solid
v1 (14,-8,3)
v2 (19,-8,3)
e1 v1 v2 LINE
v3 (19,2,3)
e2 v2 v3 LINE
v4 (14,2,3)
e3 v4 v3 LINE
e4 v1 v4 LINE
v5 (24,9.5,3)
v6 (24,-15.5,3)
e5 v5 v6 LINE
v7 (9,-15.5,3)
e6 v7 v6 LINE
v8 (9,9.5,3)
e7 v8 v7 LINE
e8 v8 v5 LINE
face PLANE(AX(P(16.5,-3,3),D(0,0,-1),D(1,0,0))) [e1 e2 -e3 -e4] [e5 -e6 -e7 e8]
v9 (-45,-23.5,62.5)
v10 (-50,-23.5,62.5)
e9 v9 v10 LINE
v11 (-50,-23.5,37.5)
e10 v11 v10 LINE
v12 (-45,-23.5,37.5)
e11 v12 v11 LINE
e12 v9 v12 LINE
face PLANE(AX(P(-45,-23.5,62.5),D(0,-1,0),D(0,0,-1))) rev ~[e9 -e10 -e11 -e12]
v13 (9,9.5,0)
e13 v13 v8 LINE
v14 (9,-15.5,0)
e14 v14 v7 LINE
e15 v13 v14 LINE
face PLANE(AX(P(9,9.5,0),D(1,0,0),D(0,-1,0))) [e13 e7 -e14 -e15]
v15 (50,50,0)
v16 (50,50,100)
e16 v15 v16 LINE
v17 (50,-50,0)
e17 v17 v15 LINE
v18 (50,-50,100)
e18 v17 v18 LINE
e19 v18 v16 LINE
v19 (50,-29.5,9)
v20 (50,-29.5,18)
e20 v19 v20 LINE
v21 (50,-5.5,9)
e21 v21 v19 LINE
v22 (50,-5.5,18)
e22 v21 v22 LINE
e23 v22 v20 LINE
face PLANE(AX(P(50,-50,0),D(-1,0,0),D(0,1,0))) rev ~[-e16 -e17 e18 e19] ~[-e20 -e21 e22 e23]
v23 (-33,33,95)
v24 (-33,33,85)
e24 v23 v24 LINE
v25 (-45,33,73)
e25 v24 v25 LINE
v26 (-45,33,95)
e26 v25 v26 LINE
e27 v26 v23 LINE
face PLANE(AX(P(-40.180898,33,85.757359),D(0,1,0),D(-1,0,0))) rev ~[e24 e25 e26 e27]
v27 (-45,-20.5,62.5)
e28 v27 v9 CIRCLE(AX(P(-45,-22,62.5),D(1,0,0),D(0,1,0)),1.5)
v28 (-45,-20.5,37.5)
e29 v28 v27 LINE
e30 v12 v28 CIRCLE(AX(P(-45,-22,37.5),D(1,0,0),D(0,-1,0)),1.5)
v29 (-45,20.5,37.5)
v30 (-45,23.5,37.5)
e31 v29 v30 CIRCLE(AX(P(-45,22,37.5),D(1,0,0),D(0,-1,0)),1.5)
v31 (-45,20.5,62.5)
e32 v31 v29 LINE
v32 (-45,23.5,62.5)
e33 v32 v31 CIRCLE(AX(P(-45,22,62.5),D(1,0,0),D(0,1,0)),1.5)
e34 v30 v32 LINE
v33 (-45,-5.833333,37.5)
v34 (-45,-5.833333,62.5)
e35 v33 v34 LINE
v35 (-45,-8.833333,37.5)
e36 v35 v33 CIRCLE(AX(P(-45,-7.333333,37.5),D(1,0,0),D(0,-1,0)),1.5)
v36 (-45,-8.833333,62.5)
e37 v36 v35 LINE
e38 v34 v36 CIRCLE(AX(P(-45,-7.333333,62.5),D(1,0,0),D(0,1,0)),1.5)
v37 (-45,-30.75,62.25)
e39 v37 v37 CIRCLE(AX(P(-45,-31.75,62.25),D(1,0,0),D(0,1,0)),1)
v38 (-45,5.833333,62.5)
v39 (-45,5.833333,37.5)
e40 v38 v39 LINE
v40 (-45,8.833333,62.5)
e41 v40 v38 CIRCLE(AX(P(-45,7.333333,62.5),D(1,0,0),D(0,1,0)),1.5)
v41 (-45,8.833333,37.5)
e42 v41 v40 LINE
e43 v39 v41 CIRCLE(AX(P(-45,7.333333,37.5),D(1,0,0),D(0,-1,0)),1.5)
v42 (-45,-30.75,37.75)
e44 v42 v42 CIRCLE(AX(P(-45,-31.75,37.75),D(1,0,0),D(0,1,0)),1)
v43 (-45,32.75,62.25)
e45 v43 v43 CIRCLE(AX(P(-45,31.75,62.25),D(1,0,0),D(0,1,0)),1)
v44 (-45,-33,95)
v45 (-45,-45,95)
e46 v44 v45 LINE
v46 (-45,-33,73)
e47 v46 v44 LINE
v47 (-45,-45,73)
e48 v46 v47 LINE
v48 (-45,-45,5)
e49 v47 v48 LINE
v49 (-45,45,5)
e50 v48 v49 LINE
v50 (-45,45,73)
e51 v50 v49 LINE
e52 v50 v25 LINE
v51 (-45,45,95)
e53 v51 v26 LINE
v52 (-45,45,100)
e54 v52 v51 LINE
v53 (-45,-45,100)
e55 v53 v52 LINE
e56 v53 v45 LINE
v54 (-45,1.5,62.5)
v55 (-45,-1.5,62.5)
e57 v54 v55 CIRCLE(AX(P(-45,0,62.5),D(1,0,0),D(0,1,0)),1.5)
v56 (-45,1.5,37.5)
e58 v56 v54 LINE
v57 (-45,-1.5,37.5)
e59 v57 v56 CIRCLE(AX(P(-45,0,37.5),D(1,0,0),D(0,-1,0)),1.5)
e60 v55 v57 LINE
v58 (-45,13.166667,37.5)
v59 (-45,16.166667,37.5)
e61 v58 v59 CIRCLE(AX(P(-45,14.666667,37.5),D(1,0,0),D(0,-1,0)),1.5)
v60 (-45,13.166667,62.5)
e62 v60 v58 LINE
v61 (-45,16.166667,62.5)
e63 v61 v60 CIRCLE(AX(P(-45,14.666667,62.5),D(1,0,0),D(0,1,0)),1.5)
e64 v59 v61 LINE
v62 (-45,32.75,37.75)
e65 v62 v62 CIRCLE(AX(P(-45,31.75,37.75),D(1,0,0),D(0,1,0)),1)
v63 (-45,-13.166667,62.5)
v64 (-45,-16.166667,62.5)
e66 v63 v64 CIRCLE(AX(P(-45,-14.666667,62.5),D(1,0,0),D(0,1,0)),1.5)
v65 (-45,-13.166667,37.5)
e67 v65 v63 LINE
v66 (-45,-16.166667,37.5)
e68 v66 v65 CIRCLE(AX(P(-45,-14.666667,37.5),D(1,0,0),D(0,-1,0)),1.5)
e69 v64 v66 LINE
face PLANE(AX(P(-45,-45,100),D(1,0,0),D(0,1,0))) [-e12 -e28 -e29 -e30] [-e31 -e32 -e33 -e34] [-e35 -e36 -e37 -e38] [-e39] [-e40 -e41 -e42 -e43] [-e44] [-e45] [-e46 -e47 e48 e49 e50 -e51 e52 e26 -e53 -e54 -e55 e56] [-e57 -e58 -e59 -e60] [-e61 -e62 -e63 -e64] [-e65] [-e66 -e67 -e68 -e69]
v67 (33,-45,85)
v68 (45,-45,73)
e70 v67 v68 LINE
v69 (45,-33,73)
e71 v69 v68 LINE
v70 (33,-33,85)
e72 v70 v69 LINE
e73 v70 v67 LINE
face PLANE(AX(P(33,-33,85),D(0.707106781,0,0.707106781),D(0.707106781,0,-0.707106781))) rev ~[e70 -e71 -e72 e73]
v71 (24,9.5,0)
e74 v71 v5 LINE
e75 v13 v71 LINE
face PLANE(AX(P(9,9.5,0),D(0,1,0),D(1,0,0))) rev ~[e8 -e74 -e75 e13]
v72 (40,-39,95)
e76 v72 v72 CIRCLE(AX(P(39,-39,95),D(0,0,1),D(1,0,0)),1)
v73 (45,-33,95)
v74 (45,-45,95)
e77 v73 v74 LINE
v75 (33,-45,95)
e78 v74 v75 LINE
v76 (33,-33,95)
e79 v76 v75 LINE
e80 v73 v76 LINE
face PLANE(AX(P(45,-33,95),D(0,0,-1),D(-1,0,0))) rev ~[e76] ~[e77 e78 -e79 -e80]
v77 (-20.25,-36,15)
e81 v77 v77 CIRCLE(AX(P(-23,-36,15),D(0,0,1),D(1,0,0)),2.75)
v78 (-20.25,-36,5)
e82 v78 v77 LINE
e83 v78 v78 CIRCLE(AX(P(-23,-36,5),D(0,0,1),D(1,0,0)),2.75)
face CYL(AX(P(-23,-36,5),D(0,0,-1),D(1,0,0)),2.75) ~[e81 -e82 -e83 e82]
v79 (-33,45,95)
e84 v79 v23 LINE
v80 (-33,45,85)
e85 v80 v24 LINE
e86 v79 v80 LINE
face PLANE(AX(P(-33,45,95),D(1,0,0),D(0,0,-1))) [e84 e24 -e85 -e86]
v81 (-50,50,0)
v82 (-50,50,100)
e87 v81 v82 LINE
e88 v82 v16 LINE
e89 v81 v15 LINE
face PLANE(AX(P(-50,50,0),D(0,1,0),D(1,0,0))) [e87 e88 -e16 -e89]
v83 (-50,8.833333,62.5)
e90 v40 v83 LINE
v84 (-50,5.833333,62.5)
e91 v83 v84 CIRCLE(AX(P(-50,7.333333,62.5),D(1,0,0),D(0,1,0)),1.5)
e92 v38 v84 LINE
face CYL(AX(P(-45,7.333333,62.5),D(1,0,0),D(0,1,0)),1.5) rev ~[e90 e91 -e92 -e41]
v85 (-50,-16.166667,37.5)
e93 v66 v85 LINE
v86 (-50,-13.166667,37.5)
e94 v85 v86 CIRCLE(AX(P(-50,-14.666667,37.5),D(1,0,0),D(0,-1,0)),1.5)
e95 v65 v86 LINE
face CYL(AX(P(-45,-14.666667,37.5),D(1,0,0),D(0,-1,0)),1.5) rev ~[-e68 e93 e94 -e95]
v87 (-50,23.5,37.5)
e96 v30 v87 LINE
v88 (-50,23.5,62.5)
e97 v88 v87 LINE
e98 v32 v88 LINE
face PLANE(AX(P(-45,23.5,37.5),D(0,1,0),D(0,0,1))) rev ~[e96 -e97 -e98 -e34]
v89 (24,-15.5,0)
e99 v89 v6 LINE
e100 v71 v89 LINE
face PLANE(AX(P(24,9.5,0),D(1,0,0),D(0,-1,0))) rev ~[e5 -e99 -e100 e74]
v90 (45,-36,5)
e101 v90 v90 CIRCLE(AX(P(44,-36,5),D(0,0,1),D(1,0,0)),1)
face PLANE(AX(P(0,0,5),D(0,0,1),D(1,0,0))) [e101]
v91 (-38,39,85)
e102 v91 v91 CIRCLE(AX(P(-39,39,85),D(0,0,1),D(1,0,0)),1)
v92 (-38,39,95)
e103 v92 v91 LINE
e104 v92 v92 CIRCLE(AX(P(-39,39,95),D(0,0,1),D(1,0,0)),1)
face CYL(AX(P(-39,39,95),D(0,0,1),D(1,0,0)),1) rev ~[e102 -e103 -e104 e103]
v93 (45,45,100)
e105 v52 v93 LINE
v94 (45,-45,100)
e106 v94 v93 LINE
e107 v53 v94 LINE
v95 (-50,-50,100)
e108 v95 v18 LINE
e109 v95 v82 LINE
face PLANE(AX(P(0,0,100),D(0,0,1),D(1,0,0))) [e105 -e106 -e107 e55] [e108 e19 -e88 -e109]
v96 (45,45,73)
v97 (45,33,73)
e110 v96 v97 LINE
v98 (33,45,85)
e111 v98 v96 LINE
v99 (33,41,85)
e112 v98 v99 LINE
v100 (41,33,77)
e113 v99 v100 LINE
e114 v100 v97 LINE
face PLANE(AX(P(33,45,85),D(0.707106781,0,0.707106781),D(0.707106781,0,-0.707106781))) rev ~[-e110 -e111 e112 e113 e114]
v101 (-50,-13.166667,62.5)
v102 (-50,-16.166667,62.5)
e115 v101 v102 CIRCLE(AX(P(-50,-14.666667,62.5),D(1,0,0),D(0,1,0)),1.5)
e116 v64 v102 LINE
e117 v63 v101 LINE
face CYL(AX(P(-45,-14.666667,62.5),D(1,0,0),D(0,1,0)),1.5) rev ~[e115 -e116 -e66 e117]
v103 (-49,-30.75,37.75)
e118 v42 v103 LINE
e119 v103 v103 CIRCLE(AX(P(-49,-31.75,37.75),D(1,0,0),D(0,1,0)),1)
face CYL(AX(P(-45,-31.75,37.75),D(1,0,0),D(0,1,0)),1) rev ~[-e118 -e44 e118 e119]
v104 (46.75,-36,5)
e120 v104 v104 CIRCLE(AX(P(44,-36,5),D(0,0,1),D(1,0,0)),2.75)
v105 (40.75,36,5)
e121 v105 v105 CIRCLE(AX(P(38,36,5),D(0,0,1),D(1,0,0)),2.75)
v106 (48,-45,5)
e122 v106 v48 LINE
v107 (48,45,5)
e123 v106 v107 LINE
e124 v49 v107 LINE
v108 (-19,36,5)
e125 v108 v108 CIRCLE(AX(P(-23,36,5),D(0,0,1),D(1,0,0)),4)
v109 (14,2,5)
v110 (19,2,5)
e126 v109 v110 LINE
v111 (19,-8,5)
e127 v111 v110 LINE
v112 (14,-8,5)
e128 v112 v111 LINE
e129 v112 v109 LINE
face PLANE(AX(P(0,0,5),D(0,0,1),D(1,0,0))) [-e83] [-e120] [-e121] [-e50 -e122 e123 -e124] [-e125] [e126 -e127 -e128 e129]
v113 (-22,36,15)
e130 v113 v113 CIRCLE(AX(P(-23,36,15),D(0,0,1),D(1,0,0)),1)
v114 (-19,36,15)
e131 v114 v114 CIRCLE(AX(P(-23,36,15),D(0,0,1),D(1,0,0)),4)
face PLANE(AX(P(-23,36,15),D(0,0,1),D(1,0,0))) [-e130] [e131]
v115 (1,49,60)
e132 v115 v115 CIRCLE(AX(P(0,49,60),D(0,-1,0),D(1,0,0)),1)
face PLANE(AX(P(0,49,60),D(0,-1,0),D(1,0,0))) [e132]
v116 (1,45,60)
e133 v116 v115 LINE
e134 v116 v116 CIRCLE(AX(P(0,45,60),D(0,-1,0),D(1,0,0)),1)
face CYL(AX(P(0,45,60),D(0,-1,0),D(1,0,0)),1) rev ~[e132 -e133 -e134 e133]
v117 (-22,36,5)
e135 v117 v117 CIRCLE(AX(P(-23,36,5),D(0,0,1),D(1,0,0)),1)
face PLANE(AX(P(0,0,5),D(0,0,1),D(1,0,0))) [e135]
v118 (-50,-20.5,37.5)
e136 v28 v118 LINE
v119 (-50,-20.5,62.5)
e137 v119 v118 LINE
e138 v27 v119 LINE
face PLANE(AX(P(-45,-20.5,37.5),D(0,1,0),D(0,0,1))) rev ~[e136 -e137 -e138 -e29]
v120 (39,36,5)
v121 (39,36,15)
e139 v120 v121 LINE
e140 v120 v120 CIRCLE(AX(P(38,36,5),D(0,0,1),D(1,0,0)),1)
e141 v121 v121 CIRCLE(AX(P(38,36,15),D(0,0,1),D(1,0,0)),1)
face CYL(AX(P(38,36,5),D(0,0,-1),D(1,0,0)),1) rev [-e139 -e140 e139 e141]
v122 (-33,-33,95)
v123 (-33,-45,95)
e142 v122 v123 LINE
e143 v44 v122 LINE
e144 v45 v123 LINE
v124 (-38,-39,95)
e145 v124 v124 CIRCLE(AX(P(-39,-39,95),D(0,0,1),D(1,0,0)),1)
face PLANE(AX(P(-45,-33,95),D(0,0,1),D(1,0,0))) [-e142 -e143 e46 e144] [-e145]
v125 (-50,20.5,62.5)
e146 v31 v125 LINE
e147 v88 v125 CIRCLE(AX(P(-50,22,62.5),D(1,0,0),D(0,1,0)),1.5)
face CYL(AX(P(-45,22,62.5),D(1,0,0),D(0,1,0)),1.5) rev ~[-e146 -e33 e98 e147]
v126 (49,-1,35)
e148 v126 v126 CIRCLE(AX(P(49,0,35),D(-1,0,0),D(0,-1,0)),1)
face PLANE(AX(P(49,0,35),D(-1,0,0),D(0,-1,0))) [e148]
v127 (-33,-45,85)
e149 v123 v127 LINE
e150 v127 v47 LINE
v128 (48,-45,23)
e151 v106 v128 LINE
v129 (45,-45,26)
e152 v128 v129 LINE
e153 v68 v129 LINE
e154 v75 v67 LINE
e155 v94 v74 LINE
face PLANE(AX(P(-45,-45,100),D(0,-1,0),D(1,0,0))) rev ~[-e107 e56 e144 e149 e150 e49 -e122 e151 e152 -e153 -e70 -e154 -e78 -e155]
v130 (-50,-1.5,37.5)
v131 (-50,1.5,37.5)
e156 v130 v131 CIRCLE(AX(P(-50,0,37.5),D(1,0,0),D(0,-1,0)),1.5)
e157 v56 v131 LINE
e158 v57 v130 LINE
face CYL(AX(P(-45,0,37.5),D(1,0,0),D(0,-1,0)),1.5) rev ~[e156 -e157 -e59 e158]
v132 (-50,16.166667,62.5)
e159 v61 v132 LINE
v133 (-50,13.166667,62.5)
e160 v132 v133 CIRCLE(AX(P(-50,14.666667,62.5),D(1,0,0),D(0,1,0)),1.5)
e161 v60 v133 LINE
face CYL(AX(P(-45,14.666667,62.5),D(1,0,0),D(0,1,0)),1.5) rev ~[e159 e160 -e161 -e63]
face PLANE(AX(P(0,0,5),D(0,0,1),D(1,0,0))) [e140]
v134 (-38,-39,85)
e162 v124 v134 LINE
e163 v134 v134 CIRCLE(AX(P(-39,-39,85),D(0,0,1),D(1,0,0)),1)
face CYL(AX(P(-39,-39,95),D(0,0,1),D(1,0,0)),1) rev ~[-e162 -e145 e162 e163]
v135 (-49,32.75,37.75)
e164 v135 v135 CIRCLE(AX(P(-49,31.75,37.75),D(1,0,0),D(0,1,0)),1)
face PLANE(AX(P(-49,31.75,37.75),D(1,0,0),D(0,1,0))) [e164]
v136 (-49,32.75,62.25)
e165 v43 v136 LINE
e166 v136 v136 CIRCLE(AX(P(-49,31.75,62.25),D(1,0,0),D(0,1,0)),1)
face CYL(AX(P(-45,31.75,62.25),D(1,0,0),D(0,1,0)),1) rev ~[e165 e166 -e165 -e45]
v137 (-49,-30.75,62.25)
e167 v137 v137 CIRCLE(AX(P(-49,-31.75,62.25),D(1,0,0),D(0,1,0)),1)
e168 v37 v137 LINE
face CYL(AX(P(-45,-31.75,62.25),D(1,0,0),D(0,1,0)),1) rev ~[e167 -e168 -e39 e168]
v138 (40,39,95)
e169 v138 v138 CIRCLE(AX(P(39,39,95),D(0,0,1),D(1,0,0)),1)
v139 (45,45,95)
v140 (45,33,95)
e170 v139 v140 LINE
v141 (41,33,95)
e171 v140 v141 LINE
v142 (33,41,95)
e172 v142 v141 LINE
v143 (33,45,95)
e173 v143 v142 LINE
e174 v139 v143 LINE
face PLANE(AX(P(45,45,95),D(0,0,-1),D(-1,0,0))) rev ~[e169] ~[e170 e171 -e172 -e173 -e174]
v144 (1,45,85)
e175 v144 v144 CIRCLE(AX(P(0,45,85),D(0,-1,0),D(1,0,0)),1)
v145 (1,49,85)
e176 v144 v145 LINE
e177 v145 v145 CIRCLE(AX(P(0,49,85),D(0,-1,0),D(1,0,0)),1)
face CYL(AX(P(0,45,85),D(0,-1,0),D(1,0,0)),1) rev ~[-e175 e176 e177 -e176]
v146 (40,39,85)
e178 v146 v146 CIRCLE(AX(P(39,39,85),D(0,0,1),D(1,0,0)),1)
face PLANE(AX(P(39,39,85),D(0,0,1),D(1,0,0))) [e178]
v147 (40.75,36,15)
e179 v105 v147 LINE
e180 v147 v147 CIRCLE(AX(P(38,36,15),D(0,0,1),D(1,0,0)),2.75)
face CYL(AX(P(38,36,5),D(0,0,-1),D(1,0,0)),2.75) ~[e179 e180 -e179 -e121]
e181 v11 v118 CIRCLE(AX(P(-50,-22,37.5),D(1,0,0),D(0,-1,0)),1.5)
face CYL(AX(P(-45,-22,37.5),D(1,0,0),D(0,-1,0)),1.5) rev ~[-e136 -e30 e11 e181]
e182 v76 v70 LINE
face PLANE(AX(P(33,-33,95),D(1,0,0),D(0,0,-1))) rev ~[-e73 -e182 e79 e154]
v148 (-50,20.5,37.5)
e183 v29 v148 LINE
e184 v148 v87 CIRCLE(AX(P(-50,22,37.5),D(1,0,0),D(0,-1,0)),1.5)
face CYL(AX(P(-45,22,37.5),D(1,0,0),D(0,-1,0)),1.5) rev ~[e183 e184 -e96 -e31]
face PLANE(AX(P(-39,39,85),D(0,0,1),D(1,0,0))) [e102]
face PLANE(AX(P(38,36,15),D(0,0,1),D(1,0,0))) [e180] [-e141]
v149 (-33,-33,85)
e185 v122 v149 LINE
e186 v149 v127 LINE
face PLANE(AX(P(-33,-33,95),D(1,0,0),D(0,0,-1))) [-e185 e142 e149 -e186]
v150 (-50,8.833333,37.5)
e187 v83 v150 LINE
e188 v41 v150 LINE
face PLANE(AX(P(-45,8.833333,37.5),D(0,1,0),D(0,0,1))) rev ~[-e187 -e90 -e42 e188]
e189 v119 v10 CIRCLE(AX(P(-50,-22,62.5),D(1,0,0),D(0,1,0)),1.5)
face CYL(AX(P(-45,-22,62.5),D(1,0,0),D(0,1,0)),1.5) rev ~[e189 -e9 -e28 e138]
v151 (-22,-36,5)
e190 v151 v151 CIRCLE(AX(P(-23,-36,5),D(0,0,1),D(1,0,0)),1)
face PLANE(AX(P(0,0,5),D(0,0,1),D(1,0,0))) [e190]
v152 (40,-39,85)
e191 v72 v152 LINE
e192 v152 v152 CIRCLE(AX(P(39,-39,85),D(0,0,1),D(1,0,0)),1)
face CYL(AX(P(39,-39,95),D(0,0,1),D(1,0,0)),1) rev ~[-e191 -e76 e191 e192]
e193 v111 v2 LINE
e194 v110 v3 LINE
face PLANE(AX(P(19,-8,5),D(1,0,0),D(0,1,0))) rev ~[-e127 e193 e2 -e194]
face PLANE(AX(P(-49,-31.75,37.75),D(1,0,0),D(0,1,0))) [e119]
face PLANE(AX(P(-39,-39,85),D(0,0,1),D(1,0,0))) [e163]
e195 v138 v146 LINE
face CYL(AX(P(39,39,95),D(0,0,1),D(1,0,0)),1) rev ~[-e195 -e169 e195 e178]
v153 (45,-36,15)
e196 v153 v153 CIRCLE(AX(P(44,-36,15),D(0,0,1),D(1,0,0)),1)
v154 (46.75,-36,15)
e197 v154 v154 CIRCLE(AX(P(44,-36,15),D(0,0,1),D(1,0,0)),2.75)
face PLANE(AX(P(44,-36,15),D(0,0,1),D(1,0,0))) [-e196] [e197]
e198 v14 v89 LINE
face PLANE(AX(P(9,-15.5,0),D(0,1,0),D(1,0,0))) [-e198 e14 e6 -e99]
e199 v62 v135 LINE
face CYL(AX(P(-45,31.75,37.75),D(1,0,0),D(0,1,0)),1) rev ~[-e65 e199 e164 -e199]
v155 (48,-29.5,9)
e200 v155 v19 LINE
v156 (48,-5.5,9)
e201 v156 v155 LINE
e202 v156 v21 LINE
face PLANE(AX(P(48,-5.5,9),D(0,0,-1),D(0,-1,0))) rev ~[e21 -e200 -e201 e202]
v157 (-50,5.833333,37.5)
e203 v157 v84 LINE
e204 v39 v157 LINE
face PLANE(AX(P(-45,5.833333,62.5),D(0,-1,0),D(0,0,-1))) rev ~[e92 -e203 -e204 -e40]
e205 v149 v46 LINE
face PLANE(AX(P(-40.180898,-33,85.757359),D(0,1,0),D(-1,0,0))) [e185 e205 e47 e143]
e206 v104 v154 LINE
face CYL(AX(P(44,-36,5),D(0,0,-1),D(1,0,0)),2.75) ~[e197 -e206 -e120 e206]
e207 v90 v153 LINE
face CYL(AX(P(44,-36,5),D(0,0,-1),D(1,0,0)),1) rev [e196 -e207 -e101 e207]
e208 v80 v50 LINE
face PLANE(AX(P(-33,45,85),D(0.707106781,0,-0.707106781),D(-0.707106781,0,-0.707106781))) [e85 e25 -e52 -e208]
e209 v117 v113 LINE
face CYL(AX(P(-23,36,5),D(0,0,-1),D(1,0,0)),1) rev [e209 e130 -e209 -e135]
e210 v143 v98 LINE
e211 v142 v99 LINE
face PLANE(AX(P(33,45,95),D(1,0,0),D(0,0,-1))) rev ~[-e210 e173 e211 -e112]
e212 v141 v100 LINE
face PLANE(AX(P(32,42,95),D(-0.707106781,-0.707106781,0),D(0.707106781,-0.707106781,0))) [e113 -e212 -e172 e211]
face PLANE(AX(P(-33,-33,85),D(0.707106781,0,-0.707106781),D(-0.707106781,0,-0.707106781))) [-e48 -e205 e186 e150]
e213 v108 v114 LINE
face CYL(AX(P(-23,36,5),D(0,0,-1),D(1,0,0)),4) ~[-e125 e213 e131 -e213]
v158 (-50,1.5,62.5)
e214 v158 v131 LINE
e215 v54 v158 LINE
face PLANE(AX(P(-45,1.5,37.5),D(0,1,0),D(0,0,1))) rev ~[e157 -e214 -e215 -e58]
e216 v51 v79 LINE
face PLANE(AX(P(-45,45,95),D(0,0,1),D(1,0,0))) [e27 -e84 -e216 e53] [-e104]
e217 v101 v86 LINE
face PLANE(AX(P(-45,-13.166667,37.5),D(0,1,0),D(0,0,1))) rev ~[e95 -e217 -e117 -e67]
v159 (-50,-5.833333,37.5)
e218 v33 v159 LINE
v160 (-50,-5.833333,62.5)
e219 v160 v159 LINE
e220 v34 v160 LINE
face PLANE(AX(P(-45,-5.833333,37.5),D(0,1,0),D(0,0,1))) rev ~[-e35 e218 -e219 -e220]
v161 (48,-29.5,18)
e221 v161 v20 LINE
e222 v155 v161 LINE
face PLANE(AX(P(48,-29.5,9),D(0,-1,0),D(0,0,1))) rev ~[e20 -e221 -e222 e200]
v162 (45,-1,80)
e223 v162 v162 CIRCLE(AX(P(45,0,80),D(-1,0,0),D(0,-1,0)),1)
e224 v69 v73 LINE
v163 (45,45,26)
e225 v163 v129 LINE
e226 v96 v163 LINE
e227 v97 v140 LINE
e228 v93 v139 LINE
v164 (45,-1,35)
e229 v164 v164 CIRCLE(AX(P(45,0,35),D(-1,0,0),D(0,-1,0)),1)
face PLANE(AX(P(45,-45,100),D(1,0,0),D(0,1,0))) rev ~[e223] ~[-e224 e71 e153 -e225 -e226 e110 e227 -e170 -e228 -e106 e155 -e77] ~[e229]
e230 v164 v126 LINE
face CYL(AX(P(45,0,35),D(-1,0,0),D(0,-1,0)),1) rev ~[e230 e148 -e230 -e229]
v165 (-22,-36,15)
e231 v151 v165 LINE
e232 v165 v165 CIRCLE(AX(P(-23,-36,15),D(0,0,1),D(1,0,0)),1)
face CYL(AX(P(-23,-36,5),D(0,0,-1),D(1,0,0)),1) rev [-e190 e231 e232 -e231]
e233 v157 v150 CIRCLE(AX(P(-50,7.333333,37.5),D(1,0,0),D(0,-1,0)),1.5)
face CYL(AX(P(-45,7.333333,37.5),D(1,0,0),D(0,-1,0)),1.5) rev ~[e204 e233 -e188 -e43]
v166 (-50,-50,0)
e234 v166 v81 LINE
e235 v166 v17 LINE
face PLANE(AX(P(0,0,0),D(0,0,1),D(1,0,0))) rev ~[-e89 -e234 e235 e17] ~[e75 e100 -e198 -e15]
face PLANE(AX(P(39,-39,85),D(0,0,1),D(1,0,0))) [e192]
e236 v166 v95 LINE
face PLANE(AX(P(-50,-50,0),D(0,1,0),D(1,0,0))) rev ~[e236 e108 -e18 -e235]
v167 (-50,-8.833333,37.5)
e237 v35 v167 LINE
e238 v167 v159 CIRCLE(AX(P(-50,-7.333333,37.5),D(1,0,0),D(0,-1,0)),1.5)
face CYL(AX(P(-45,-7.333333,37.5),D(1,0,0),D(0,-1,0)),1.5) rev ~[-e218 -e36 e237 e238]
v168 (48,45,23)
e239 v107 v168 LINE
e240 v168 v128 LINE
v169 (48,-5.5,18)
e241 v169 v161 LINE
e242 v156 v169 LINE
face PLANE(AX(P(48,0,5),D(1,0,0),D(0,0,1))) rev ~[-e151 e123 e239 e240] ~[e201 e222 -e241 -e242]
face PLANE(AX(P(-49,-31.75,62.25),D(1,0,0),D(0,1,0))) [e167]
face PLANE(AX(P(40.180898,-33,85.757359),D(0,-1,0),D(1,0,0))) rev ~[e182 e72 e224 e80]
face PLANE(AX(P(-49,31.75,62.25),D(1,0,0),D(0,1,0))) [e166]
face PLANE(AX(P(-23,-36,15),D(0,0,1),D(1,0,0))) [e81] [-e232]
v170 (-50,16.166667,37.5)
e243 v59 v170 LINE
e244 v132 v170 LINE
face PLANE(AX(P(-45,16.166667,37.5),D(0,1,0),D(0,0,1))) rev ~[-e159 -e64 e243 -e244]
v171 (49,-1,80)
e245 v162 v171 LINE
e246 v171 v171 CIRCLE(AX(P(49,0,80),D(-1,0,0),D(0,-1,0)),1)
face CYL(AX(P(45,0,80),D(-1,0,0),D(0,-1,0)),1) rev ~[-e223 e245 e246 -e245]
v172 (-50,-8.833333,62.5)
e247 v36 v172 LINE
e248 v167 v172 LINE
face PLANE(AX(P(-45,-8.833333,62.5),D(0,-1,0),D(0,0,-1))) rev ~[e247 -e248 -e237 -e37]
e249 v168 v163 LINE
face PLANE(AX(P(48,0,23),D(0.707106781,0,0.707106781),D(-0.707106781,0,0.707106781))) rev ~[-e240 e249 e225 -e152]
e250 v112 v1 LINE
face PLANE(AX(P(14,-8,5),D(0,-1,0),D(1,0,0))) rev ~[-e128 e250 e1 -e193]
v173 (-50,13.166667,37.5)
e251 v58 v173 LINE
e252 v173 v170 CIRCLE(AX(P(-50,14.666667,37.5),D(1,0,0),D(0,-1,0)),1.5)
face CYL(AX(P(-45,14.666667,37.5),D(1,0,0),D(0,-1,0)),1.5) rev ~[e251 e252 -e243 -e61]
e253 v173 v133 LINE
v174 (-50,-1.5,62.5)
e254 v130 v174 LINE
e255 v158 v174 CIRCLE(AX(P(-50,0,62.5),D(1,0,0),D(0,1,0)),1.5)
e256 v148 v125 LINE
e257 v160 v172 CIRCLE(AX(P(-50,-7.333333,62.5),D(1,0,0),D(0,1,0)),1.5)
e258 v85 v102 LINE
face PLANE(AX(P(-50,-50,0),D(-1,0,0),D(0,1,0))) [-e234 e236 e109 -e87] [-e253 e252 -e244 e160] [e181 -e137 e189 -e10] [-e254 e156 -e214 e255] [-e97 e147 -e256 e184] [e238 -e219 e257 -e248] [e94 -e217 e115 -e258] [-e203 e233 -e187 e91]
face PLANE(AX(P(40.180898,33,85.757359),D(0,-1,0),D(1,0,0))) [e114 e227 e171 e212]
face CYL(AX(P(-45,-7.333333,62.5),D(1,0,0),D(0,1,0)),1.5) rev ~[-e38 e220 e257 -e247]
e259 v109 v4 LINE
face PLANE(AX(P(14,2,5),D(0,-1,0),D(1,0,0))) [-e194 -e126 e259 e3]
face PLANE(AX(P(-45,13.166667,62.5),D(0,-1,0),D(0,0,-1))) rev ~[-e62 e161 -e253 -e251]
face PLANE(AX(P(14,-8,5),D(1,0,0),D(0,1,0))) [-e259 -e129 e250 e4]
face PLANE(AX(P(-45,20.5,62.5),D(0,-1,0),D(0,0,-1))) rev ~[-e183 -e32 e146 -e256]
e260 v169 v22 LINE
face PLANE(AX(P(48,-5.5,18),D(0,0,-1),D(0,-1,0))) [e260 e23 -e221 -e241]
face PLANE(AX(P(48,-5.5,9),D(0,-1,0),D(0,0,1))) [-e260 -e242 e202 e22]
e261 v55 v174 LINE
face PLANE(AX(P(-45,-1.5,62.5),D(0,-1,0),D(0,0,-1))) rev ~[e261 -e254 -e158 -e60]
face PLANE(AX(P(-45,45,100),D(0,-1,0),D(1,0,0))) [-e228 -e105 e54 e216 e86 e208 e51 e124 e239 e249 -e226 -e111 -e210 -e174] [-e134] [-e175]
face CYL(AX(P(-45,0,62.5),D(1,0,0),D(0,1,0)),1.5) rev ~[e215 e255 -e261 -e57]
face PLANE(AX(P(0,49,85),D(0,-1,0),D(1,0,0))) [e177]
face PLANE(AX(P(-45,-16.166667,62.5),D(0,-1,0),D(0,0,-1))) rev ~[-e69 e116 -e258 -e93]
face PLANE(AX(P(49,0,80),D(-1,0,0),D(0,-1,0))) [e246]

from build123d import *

# Parameters (mm, degrees)
SKETCH_W                        = 100
SKETCH_H                        = 100
PAD_DEPTH                       = 100
SKETCH001_W                     = 90
SKETCH001_H                     = 90
POCKET_DEPTH                    = 95
POCKET001_DEPTH                 = 45
SKETCH003_R                     = 4
SKETCH003_R_2                   = 1
SKETCH003_R_3                   = 2.75
PAD001_DEPTH                    = 10
SKETCH004_W                     = 24
SKETCH004_H                     = 9
POCKET002_DEPTH                 = 5
SKETCH005_W                     = 5
SKETCH005_H                     = 10
POCKET003_DEPTH                 = 6
SKETCH006_W                     = 15
SKETCH006_H                     = 25
POCKET004_DEPTH                 = 3
SKETCH007_R                     = 1
POCKET005_DEPTH                 = 4
POCKET006_DEPTH                 = 6
POCKET006_LINEARPATTERN_2_DEPTH = 6
POCKET006_LINEARPATTERN_3_DEPTH = 6
POCKET006_LINEARPATTERN_4_DEPTH = 6
LINEARPATTERN001_COUNT          = 2
LINEARPATTERN001_PITCH          = 22
SKETCH009_R                     = 1
POCKET007_DEPTH                 = 4
SKETCH010_R                     = 1
POCKET008_DEPTH                 = 4
PAD002_DEPTH                    = 12
PAD002_MIRRORED001_2_DEPTH      = 12
LINEARPATTERN002_COUNT          = 2
LINEARPATTERN002_PITCH          = 78
SKETCH012_R                     = 1
POCKET009_DEPTH                 = 10
POCKET010_DEPTH                 = 20


with BuildPart() as part:
    # Sketch → Pad (new body)
    with BuildSketch(Plane.XY):
        Rectangle(SKETCH_W, SKETCH_H)
    extrude(amount=PAD_DEPTH)

    # Sketch001 (on Face6 of Pad) → Pocket (cut)
    with BuildSketch(Plane.XY.offset(100)):
        Rectangle(SKETCH001_W, SKETCH001_H)
    extrude(amount=-POCKET_DEPTH, mode=Mode.SUBTRACT)

    # Sketch002 → Pocket001 (cut)
    with BuildSketch(Plane.XZ):
        Polygon((28, 5), (48, 5), (48, 23), (28, 43), align=None)
    pocket001 = extrude(amount=-POCKET001_DEPTH, mode=Mode.SUBTRACT)

    # Mirrored: Pocket001 across XZ
    add(pocket001.mirror(Plane.XZ), mode=Mode.SUBTRACT)

    # Sketch003 (on Face11 of Mirrored) → Pad001 (join)
    with BuildSketch(Plane.XY.offset(5)):
        with Locations((-23, 36)):
            Circle(SKETCH003_R)
        with Locations((-23, 36)):
            Circle(SKETCH003_R_2, mode=Mode.SUBTRACT)
        with Locations((38, 36)):
            Circle(SKETCH003_R_3)
        with Locations((38, 36)):
            Circle(SKETCH003_R_2, mode=Mode.SUBTRACT)
        with Locations((44, -36)):
            Circle(SKETCH003_R_3)
        with Locations((44, -36)):
            Circle(SKETCH003_R_2, mode=Mode.SUBTRACT)
        with Locations((-23, -36)):
            Circle(SKETCH003_R_3)
        with Locations((-23, -36)):
            Circle(SKETCH003_R_2, mode=Mode.SUBTRACT)
    extrude(amount=PAD001_DEPTH)

    # Sketch004 (on Face23 of Pad001) → Pocket002 (cut)
    with BuildSketch(Plane(origin=(48, 0, 0), x_dir=(0, -1, 0), z_dir=(-1, 0, 0))):
        with Locations((17.5, 13.5)):
            Rectangle(SKETCH004_W, SKETCH004_H)
    extrude(amount=-POCKET002_DEPTH, mode=Mode.SUBTRACT)

    # Sketch005 (on Face16 of Pocket002) → Pocket003 (cut)
    with BuildSketch(Plane.XY.offset(5)):
        with Locations((16.5, -3)):
            Rectangle(SKETCH005_W, SKETCH005_H)
    extrude(amount=-POCKET003_DEPTH, mode=Mode.SUBTRACT)

    # Sketch006 (on Face4 of Pocket003) → Pocket004 (cut)
    with BuildSketch(Plane(origin=(0, 0, 0), x_dir=(1, 0, 0), z_dir=(0, 0, -1))):
        with Locations((16.5, 3)):
            Rectangle(SKETCH006_W, SKETCH006_H)
    extrude(amount=-POCKET004_DEPTH, mode=Mode.SUBTRACT)

    # Sketch007 (on Face15 of Pocket004) → Pocket005 (cut)
    with BuildSketch(Plane.YZ.offset(-45)):
        with Locations((-31.75, 62.25)):
            Circle(SKETCH007_R)
        with Locations((31.75, 62.25)):
            Circle(SKETCH007_R)
        with Locations((-31.75, 37.75)):
            Circle(SKETCH007_R)
        with Locations((31.75, 37.75)):
            Circle(SKETCH007_R)
    extrude(amount=-POCKET005_DEPTH, mode=Mode.SUBTRACT)

    # Sketch008 (on Face15 of Pocket005) → Pocket006 (cut)
    with BuildSketch(Plane.YZ.offset(-45)):
        with BuildLine():
            ThreePointArc((1.5, 62.5), (0, 64), (-1.5, 62.5))
            Line((-1.5, 62.5), (-1.5, 37.5))
            ThreePointArc((-1.5, 37.5), (0, 36), (1.5, 37.5))
            Line((1.5, 37.5), (1.5, 62.5))
        make_face()
    pocket006 = extrude(amount=-POCKET006_DEPTH, mode=Mode.SUBTRACT)

    # Sketch008 LinearPattern 2 → Pocket006 LinearPattern 2 (cut)
    with BuildSketch(Plane(origin=(-45, 7.333333, 0), x_dir=(0, 1, 0), z_dir=(1, 0, 0))):
        with BuildLine():
            ThreePointArc((1.5, 62.5), (0, 64), (-1.5, 62.5))
            Line((-1.5, 62.5), (-1.5, 37.5))
            ThreePointArc((-1.5, 37.5), (0, 36), (1.5, 37.5))
            Line((1.5, 37.5), (1.5, 62.5))
        make_face()
    pocket006_linearpattern_2 = extrude(amount=-POCKET006_LINEARPATTERN_2_DEPTH, mode=Mode.SUBTRACT)

    # Sketch008 LinearPattern 3 → Pocket006 LinearPattern 3 (cut)
    with BuildSketch(Plane(origin=(-45, 14.666667, 0), x_dir=(0, 1, 0), z_dir=(1, 0, 0))):
        with BuildLine():
            ThreePointArc((1.5, 62.5), (0, 64), (-1.5, 62.5))
            Line((-1.5, 62.5), (-1.5, 37.5))
            ThreePointArc((-1.5, 37.5), (0, 36), (1.5, 37.5))
            Line((1.5, 37.5), (1.5, 62.5))
        make_face()
    pocket006_linearpattern_3 = extrude(amount=-POCKET006_LINEARPATTERN_3_DEPTH, mode=Mode.SUBTRACT)

    # Sketch008 LinearPattern 4 → Pocket006 LinearPattern 4 (cut)
    with BuildSketch(Plane(origin=(-45, 22, 0), x_dir=(0, 1, 0), z_dir=(1, 0, 0))):
        with BuildLine():
            ThreePointArc((1.5, 62.5), (0, 64), (-1.5, 62.5))
            Line((-1.5, 62.5), (-1.5, 37.5))
            ThreePointArc((-1.5, 37.5), (0, 36), (1.5, 37.5))
            Line((1.5, 37.5), (1.5, 62.5))
        make_face()
    pocket006_linearpattern_4 = extrude(amount=-POCKET006_LINEARPATTERN_4_DEPTH, mode=Mode.SUBTRACT)

    # LinearPattern001: Pocket006, Pocket006 LinearPattern 2, Pocket006 LinearPattern 3, Pocket006 LinearPattern 4 ×2
    with Locations(*[(0, -i * LINEARPATTERN001_PITCH, 0) for i in range(1, LINEARPATTERN001_COUNT)]):
        add(pocket006, mode=Mode.SUBTRACT)
        add(pocket006_linearpattern_2, mode=Mode.SUBTRACT)
        add(pocket006_linearpattern_3, mode=Mode.SUBTRACT)
        add(pocket006_linearpattern_4, mode=Mode.SUBTRACT)

    # Sketch009 (on Face45 of MultiTransform) → Pocket007 (cut)
    with BuildSketch(Plane(origin=(45, 0, 0), x_dir=(0, -1, 0), z_dir=(-1, 0, 0))):
        with Locations((0, 80)):
            Circle(SKETCH009_R)
        with Locations((0, 35)):
            Circle(SKETCH009_R)
    extrude(amount=-POCKET007_DEPTH, mode=Mode.SUBTRACT)

    # Sketch010 (on Face46 of Pocket007) → Pocket008 (cut)
    with BuildSketch(Plane.XZ.offset(-45)):
        with Locations((0, 85)):
            Circle(SKETCH010_R)
        with Locations((0, 60)):
            Circle(SKETCH010_R)
    extrude(amount=-POCKET008_DEPTH, mode=Mode.SUBTRACT)

    # Sketch011 (on Face46 of Pocket008) → Pad002 (join)
    with BuildSketch(Plane.XZ.offset(-45)):
        Polygon((-45, 95), (-33, 95), (-33, 85), (-45, 73), align=None)
    pad002 = extrude(amount=PAD002_DEPTH)

    # Sketch011 Mirrored001 2 → Pad002 Mirrored001 2 (add)
    with BuildSketch(Plane(origin=(0, 45, 0), x_dir=(-1, 0, 0), z_dir=(0, 1, 0))):
        Polygon((-45, 95), (-33, 95), (-33, 85), (-45, 73), align=None)
    pad002_mirrored001_2 = extrude(amount=-PAD002_MIRRORED001_2_DEPTH)

    # LinearPattern002: Pad002, Pad002 Mirrored001 2 ×2
    with Locations(*[(0, -i * LINEARPATTERN002_PITCH, 0) for i in range(1, LINEARPATTERN002_COUNT)]):
        add(pad002)
        add(pad002_mirrored001_2)

    # Sketch012 (on Face55 of MultiTransform001) → Pocket009 (cut)
    with BuildSketch(Plane.XY.offset(95)):
        with Locations((-39, 39)):
            Circle(SKETCH012_R)
        with Locations((39, 39)):
            Circle(SKETCH012_R)
        with Locations((39, -39)):
            Circle(SKETCH012_R)
        with Locations((-39, -39)):
            Circle(SKETCH012_R)
    extrude(amount=-POCKET009_DEPTH, mode=Mode.SUBTRACT)

    # Sketch013 (on Face70 of Pocket009) → Pocket010 (cut)
    with BuildSketch(Plane.XY.offset(95)):
        Polygon((32, 42), (42, 32), (32, 32), align=None)
    extrude(amount=-POCKET010_DEPTH, mode=Mode.SUBTRACT)


solid = part.part
